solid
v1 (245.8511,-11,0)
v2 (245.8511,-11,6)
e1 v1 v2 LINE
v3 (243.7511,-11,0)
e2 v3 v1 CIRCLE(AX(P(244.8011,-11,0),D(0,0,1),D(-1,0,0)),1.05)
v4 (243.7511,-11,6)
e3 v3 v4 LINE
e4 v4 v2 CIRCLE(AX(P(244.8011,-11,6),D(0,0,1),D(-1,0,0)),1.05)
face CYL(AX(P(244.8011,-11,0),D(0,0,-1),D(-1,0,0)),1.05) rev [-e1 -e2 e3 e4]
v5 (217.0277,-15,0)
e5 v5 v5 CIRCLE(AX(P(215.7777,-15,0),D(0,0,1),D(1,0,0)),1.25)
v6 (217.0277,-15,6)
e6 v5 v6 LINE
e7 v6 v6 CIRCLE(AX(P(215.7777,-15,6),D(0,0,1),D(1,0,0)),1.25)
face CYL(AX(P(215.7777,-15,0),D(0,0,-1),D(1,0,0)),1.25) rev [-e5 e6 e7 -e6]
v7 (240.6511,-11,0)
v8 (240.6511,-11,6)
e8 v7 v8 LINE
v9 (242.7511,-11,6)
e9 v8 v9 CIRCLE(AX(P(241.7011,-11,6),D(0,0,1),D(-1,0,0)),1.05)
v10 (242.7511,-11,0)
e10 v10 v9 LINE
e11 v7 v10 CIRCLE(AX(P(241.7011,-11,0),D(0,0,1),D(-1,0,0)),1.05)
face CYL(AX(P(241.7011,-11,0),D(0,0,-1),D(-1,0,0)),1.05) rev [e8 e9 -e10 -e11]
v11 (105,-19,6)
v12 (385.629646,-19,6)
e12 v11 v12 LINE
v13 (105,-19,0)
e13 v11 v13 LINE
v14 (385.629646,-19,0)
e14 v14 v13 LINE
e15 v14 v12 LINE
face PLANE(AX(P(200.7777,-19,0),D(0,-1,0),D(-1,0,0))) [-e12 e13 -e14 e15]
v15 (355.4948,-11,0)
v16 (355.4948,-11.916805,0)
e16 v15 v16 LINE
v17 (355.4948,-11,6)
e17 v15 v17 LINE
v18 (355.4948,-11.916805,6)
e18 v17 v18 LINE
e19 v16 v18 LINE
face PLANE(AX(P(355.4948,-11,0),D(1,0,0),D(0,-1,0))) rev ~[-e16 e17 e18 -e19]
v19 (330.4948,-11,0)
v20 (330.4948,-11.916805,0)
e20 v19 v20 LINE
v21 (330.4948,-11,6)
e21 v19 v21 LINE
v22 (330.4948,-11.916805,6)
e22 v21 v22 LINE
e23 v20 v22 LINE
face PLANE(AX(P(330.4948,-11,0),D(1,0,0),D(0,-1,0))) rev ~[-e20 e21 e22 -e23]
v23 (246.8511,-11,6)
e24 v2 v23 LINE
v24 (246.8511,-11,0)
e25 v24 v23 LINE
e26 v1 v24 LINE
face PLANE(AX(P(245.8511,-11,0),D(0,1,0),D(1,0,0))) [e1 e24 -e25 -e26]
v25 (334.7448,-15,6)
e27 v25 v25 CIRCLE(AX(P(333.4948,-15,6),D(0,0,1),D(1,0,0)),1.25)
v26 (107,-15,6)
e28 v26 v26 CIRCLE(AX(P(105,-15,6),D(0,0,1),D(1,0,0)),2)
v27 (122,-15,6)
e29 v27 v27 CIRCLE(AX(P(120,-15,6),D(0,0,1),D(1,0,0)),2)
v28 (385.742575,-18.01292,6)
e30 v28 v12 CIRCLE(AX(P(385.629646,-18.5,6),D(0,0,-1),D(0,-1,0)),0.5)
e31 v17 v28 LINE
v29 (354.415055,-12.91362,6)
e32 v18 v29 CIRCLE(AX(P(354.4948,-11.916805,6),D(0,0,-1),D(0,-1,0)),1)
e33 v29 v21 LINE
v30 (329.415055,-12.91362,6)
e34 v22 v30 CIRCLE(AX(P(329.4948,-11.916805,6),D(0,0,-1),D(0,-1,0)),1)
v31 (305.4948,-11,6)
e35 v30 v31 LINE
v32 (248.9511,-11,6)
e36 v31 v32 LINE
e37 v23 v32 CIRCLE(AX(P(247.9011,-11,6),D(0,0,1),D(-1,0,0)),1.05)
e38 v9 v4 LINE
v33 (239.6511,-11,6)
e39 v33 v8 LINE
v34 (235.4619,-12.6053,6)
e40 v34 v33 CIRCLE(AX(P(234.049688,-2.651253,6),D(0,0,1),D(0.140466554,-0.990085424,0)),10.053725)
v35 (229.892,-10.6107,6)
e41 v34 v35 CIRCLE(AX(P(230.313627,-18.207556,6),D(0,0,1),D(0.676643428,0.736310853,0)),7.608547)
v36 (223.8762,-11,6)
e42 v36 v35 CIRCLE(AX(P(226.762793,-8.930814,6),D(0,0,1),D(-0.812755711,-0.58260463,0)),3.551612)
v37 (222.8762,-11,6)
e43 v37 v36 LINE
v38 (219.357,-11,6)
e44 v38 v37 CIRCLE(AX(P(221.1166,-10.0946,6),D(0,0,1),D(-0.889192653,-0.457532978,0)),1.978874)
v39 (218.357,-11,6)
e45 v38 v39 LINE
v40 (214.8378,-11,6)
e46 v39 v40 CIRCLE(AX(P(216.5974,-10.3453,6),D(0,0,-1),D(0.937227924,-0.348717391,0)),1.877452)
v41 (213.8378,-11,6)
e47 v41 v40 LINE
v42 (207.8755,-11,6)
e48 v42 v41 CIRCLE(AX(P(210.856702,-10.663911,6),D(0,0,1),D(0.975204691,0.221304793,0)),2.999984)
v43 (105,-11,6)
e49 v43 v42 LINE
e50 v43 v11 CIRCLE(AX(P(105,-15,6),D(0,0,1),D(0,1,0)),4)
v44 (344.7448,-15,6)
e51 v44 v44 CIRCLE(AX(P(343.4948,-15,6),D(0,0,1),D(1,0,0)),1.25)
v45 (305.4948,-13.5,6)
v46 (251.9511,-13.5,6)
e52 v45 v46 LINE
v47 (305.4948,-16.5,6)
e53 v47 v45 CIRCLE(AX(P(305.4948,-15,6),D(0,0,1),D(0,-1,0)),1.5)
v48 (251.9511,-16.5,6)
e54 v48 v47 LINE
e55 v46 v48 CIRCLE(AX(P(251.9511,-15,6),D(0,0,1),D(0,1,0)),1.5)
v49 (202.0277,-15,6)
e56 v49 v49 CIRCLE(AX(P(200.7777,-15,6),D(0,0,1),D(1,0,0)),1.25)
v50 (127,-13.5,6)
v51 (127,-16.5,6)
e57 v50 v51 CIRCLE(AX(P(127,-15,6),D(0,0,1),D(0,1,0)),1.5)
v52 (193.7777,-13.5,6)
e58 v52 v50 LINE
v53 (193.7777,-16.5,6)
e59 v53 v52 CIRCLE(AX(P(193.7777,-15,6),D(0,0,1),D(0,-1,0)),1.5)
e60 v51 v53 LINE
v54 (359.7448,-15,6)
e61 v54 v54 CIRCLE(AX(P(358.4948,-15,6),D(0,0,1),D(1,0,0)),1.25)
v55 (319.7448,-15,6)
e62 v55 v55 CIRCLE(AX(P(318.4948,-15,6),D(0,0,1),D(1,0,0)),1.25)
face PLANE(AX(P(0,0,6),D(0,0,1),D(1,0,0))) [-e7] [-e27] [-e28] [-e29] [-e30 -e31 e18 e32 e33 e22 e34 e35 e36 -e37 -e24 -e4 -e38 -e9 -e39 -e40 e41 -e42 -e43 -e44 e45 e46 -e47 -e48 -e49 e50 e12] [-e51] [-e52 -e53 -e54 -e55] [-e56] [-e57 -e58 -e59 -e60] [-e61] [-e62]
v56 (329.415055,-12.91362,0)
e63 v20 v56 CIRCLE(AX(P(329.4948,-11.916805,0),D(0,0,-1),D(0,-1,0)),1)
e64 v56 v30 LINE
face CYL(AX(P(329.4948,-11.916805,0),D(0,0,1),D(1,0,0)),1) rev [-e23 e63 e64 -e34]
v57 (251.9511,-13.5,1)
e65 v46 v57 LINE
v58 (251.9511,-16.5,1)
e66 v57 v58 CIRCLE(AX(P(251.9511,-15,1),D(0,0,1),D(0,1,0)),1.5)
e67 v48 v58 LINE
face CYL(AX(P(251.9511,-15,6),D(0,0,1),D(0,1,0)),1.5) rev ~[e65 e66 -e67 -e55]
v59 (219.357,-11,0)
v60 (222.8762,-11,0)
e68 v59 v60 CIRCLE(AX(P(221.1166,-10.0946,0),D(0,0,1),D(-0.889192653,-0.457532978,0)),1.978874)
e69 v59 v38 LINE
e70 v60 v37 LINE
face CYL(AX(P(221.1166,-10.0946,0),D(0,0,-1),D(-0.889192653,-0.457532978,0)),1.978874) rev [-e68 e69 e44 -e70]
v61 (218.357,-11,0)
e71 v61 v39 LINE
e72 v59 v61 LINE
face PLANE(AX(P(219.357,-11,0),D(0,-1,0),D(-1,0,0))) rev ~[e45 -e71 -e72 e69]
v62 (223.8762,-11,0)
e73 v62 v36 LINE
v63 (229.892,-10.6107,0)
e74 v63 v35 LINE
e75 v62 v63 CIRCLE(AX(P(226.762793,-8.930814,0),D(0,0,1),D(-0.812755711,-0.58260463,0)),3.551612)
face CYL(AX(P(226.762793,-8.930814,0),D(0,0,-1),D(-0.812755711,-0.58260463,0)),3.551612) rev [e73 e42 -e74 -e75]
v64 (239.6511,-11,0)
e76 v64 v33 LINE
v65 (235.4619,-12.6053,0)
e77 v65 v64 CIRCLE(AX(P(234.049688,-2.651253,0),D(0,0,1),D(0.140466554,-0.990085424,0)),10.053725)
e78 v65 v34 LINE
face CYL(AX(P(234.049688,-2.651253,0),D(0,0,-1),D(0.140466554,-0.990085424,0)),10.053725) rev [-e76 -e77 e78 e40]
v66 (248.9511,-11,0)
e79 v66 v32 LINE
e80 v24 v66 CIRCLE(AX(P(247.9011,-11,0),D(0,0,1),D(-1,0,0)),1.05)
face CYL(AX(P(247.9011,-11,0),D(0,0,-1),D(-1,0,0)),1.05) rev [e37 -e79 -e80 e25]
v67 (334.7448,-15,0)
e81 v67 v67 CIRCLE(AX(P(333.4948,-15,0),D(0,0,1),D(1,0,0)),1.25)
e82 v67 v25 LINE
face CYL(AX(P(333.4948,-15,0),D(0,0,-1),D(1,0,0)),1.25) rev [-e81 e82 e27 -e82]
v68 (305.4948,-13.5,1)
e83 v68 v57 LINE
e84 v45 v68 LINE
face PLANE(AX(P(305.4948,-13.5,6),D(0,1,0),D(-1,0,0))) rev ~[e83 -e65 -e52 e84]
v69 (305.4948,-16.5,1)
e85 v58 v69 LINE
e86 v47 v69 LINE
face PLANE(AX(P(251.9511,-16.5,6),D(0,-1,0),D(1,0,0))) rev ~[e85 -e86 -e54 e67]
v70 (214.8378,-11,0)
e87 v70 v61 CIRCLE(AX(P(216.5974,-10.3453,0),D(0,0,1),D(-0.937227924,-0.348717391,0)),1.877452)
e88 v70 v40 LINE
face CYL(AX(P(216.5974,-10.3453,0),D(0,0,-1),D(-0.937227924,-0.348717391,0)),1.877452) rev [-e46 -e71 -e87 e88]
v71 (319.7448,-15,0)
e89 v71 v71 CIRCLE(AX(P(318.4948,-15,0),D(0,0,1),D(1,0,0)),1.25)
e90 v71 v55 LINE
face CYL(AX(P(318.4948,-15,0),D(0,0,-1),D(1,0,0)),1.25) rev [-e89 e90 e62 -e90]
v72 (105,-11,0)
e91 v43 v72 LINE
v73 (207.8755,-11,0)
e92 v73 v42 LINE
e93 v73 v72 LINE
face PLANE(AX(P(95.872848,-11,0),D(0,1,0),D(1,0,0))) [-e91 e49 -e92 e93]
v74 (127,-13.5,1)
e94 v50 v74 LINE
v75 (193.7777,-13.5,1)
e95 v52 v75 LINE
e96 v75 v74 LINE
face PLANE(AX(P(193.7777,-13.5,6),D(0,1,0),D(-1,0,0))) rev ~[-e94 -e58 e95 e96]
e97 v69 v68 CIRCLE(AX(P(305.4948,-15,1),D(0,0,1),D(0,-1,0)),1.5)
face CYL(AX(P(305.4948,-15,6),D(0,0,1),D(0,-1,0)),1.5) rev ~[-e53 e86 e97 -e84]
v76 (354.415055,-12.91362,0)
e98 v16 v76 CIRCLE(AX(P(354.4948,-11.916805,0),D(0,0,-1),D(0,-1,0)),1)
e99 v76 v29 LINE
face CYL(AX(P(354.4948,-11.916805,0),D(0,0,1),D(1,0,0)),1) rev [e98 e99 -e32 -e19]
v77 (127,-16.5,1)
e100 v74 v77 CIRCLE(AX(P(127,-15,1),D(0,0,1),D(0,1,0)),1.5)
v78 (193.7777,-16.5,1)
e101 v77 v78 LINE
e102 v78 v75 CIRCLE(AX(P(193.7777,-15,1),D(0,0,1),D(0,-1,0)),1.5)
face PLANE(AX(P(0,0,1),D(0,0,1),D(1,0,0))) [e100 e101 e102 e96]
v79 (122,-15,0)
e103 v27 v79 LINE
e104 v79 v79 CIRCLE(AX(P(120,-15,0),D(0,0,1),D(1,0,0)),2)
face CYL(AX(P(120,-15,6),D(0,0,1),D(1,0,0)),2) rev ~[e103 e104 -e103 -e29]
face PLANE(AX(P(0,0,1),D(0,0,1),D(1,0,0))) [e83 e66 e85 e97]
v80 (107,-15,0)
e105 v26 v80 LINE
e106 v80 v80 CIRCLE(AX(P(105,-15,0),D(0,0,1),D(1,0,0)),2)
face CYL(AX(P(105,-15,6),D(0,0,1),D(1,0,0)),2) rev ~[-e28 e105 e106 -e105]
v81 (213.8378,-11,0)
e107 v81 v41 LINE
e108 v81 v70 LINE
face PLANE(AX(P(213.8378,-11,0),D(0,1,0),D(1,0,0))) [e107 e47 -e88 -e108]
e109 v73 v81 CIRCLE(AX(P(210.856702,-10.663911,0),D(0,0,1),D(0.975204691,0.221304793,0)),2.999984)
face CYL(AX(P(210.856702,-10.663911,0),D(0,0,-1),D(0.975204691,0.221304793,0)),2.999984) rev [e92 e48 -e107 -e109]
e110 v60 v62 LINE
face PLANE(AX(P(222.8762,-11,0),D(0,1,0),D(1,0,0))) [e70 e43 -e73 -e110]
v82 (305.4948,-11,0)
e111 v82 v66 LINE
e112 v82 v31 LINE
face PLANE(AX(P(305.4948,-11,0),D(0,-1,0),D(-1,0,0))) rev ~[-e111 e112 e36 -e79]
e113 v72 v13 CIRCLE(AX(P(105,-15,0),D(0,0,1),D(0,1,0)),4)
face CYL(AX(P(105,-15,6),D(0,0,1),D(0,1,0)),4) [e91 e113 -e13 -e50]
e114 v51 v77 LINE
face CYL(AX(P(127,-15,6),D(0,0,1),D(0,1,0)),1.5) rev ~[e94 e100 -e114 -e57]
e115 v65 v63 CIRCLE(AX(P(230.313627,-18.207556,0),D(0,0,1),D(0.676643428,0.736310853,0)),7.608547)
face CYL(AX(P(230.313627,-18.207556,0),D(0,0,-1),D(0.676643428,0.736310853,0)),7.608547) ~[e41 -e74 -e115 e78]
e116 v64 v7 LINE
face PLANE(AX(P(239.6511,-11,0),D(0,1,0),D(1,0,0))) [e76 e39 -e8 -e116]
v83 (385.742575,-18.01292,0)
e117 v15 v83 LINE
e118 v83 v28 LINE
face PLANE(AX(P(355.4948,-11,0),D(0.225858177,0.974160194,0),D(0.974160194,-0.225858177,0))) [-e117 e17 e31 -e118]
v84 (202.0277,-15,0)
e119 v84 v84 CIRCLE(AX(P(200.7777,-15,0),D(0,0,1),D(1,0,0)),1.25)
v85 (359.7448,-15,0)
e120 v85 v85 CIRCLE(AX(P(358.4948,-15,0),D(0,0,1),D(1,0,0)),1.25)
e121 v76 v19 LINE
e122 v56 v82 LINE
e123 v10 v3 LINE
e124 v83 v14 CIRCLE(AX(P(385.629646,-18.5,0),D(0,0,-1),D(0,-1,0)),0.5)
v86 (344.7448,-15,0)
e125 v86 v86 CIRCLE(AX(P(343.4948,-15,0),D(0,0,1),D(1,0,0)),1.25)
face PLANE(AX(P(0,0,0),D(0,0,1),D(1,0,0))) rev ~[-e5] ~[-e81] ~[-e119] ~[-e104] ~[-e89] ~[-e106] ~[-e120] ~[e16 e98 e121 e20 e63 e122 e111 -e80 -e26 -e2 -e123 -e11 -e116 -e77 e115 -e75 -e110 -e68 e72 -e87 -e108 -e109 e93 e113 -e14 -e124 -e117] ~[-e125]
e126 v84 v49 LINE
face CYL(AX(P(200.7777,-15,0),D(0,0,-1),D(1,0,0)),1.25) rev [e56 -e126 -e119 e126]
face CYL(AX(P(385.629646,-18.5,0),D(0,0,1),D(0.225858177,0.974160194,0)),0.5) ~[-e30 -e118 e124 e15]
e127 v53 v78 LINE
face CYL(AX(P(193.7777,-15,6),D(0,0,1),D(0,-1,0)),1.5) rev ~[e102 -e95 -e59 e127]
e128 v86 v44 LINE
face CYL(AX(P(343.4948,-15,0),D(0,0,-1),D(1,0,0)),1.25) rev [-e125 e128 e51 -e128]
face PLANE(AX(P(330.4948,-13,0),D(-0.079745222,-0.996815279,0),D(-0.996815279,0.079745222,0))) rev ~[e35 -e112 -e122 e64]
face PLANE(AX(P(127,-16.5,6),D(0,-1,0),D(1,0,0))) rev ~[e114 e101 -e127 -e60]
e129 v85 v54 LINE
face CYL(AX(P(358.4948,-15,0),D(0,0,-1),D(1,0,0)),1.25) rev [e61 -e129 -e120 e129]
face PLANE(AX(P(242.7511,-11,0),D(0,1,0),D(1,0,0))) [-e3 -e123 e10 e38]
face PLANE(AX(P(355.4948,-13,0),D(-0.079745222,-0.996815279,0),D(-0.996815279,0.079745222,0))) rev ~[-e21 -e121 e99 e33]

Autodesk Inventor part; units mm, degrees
ref_plane "YZ Plane" through (0, 0, 0) normal (1, 0, 0) x (0, 1, 0)
ref_plane "XZ Plane" through (0, 0, 0) normal (0, 1, 0) x (-1, 0, 0)
ref_plane "XY Plane" through (0, 0, 0) normal (0, 0, 1) x (1, 0, 0)
sketch "スケッチ1" plane through (0, 0, 0) normal (0, 0, 1) x (1, 0, 0)
  circle A0 centre (0, 0) radius 2
  circle A1 centre (15, 0) radius 2
  arc A2 (-0.2273, 4.9948) -> (-2.9263, -4.0542) centre (0, 0) ccw
  circle A3 centre (55, 0) radius 1.5
  circle A4 centre (55, 0) radius 4.025
  arc A5 (57.9262, 6.3865) -> (54.6807, 7.0177) centre (55, 0) ccw
  arc A6 (46.6204, -10.301) -> (48.0377, -5.2999) centre (45.4517, -7.2684) ccw
  line L0 (80, -19) -> (95, -19)
  circle A7 centre (95, -15) radius 2
  circle A8 centre (80, -15) radius 2
  arc A9 (95, -19) -> (96.6662, -11.3635) centre (95, -15) ccw
  circle A10 centre (80, -15) radius 4 construction
  line L1 (48.2385, -19) -> (80, -19)
  line L2 (57.9262, 6.3865) -> (96.6662, -11.3635)
  arc A11 (46.3293, 1.1755) -> (48.0377, -5.2999) centre (55, 0) ccw
  arc A12 (62.367, -1.4063) -> (54.6591, 7.4922) centre (55, 0) ccw
  line L3 (-0.2273, 4.9948) -> (54.6591, 7.4922)
  circle A13 centre (13, -10) radius 1.5
  arc A14 (10.3663, -13.6488) -> (12.3637, -14.4548) centre (13, -10) ccw
  line L4 (-2.9263, -4.0542) -> (10.3663, -13.6488)
  arc A15 (54.3637, -20.4538) -> (59.4202, -16.8428) centre (55, -15.999) ccw
  line L5 (12.3637, -14.4548) -> (54.3637, -20.4538)
  line L6 (59.4202, -16.8428) -> (62.367, -1.4063)
  circle A16 centre (66.7169, -2.5911) radius 1.5
  circle A17 centre (66.7169, -2.5911) radius 4.5 construction
  circle A18 centre (48.2385, -14.5) radius 1.5
  arc A19 (46.6204, -10.301) -> (48.2385, -19) centre (48.2385, -14.5) ccw
  arc A20 (80, -11) -> (80, -19) centre (80, -15) ccw
  line L7 (355.4948, -11) -> (390, -19)
  line L8 (390, -19) -> (80, -19)
  circle A21 centre (358.4948, -15) radius 1.25
  circle A22 centre (343.4948, -15) radius 1.25
  circle A23 centre (333.4948, -15) radius 1.25
  circle A24 centre (318.4948, -15) radius 1.25
  line L9 (80, -11) -> (207.8755, -11)
  line L10 (355.4948, -11) -> (248.9511, -11)
  arc A25 (213.7823, -10) -> (213.8378, -11) centre (210.8567, -10.6639) ccw
  line L11 (213.7823, -10) -> (214.7761, -9.8894)
  line L12 (213.8378, -11) -> (214.8378, -11)
  line L13 (219.357, -11) -> (218.357, -11)
  line L14 (218.2737, -9.5) -> (219.2676, -9.3894)
  line L15 (222.8762, -11) -> (223.8762, -11)
  line L16 (222.7652, -9) -> (223.7591, -8.8894)
  arc A26 (214.8378, -11) -> (218.357, -11) centre (216.5974, -10.3453) ccw
  arc A27 (218.2737, -9.5) -> (214.7761, -9.8894) centre (216.5974, -10.3453) ccw
  arc A28 (219.357, -11) -> (222.8762, -11) centre (221.1166, -10.0946) ccw
  arc A29 (222.7652, -9) -> (219.2676, -9.3894) centre (221.1166, -10.0946) ccw
  line L17 (210.8567, -10.6639) -> (233.0155, -9.4343) construction
  arc A30 (223.8762, -11) -> (229.892, -10.6107) centre (226.7628, -8.9308) ccw
  arc A31 (226.8407, -8.7739) -> (223.7591, -8.8894) centre (225.3075, -9.0352) ccw
  arc A32 (226.8407, -8.7739) -> (230.4998, -7.0068) centre (226.5478, -3.4953) ccw
  arc A33 (233.6316, -8.397) -> (230.4998, -7.0068) centre (231.2455, -9.5496) ccw
  arc A34 (235.4619, -12.6053) -> (229.892, -10.6107) centre (230.3136, -18.2076) ccw
  arc A35 (235.4619, -12.6053) -> (239.6511, -11) centre (234.0497, -2.6513) ccw
  arc A36 (259.6965, 4.4867) -> (265.8152, 14.9495) centre (248.2498, 18.2013) ccw
  arc A37 (220.191, -4.195) -> (265.8152, 14.9495) centre (219.3797, 61.6752) ccw
  line L18 (220.191, -4.195) -> (207.615, -4.3499)
  arc A38 (196.7777, -11) -> (207.615, -4.3499) centre (196.7777, 1.1554) ccw
  line L19 (222.8762, -11) -> (240.076, -10.0456) construction
  line L20 (222.7652, -9) -> (239.478, -8.0726) construction
  line L21 (239.6511, -11) -> (240.6511, -11)
  arc A39 (240.6511, -11) -> (242.7511, -11) centre (241.7011, -11) ccw
  line L22 (242.7511, -11) -> (243.7511, -11)
  arc A40 (243.7511, -11) -> (245.8511, -11) centre (244.8011, -11) ccw
  line L23 (245.8511, -11) -> (246.8511, -11)
  arc A41 (246.8511, -11) -> (248.9511, -11) centre (247.9011, -11) ccw
  arc A42 (240.735, -6.337) -> (238.7449, -7.0075) centre (239.7428, -6.6807) ccw
  arc A43 (243.5362, -5.2633) -> (241.5809, -6.0291) centre (242.5618, -5.6544) ccw
  arc A44 (246.2823, -4.0554) -> (244.3663, -4.9148) centre (245.3279, -4.4932) ccw
  arc A45 (248.9668, -2.7162) -> (247.0946, -3.6672) centre (248.0347, -3.1996) ccw
  arc A46 (233.6316, -8.397) -> (238.7449, -7.0075) centre (219.9279, 52.1342) ccw
  arc A47 (240.735, -6.337) -> (241.5809, -6.0291) centre (219.9279, 52.1342) ccw
  arc A48 (243.5362, -5.2633) -> (244.3663, -4.9148) centre (219.9279, 52.1342) ccw
  arc A49 (246.2823, -4.0554) -> (247.0946, -3.6672) centre (219.9279, 52.1342) ccw
  arc A50 (248.9668, -2.7162) -> (259.6965, 4.4867) centre (219.9279, 52.1342) ccw
  line L24 (196.7777, -11) -> (196.7777, -15)
  circle A51 centre (200.7777, -15) radius 1.25
  circle A52 centre (215.7777, -15) radius 1.25
  arc A53 (196.7777, -15) -> (200.7777, -19) centre (200.7777, -15) ccw
  arc A54 (215.7777, -19) -> (217.9536, -11.6436) centre (215.7777, -15) ccw
  circle A55 centre (200.7777, -15) radius 1.5
  circle A56 centre (215.7777, -15) radius 1.5
  line L25 (200.7777, -19) -> (215.7777, -19)
  circle A57 centre (45.4517, -7.2684) radius 1.5
  arc A58 (46.3293, 1.1755) -> (44.1782, 4.6812) centre (43.1088, 1.6121) ccw
  line L26 (54.6807, 7.0177) -> (44.8362, 6.5698)
  line L27 (44.8362, 6.5698) -> (44.1782, 4.6812)
  line L28 (355.4948, -11) -> (355.4948, -13)
  line L29 (355.4948, -13) -> (330.4948, -11)
  line L30 (330.4948, -11) -> (330.4948, -13)
  line L31 (330.4948, -13) -> (305.4948, -11)
  dimension "d0" = 4
  dimension "d1" = 4
  dimension "d2" = 15
  dimension "d3" = 3
  dimension "d4" = 3
  dimension "d8" = 8.05
  dimension "d9" = 3
  dimension "d10" = 6.5
  dimension "d11" = 4
  dimension "d12" = 4
  dimension "d15" = 15
  dimension "d16" = 15
  dimension "d18" = 3
  dimension "d19" = 3
  dimension "d23" = 3
  dimension "d25" = 40
  dimension "d26" = 40
  dimension "d28" = 15
  dimension "d29" = 13
  dimension "d34" = 3
  dimension "d35" = 3
  dimension "d36" = 3
  dimension "d37" = 8
  dimension "d38" = 390
  dimension "d40" = 4
  dimension "d41" = 8
  dimension "d42" = 2.5
  dimension "d43" = 2.5
  dimension "d44" = 2.5
  dimension "d45" = 2.5
  dimension "d46" = 4
  dimension "d47" = 15
  dimension "d48" = 10
  dimension "d49" = 15
  dimension "d51" = 6
  dimension "d59" = 1
  dimension "d60" = 1.5
  dimension "d61" = 1
  dimension "d62" = 1
  dimension "d63" = 1
  dimension "d64" = 2
  dimension "d65" = 1
  dimension "d66" = 1.0015
  dimension "d67" = 1.0015
  dimension "d68" = 0.7511
  dimension "d69" = 0.7511
  dimension "d70" = 3.176
  dimension "d71" = 3.176
  dimension "d73" = 1.05
  dimension "d74" = 1.05
  dimension "d75" = 1.05
  dimension "d76" = 1
  dimension "d77" = 1
  dimension "d78" = 1
  dimension "d79" = 2.1
  dimension "d80" = 2.1
  dimension "d81" = 2.1
  dimension "d82" = 2.1
  dimension "d83" = 3
  dimension "d84" = 3
  dimension "d85" = 3
  dimension "d88" = 2.5
  dimension "d89" = 2.5
  dimension "d90" = 15
extrude "押し出し1" add sketch "スケッチ1" along normal blind 6 contours L9 L24 A53 L8 A9 L2 | L2 A9 L0 A20 L9 | L9 A25 L12 A26 A54 L8 A53 L24 | A54 A26 L13 A28 L15 A30 A34 A35 L21 A39 L22 A40 L23 A41 L10 L31 L30 L29 L28 L7 L8 | A55 | A56
sketch "スケッチ2" plane through (0, 0, 6) normal (0, 0, 1) x (1, 0, 0)
  circle A0 centre (215.7777, -15) radius 1.25 projected
  circle A1 centre (200.7777, -15) radius 1.25 projected
  circle A2 centre (80, -15) radius 2 projected
  circle A3 centre (95, -15) radius 2 projected
  circle A4 centre (318.4948, -15) radius 1.25 projected
  circle A5 centre (333.4948, -15) radius 1.25 projected
  circle A6 centre (343.4948, -15) radius 1.25 projected
  circle A7 centre (358.4948, -15) radius 1.25 projected
  arc A8 (80, -11) -> (80, -19) centre (80, -15) ccw projected
  line L0 (80, -19) -> (390, -19) projected
  line L1 (390, -19) -> (355.4948, -11) projected
  line L2 (305.4948, -11) -> (248.9511, -11) projected
  arc A9 (246.8511, -11) -> (248.9511, -11) centre (247.9011, -11) ccw projected
  line L3 (246.8511, -11) -> (245.8511, -11) projected
  arc A10 (243.7511, -11) -> (245.8511, -11) centre (244.8011, -11) ccw projected
  line L4 (243.7511, -11) -> (242.7511, -11) projected
  arc A11 (240.6511, -11) -> (242.7511, -11) centre (241.7011, -11) ccw projected
  line L5 (240.6511, -11) -> (239.6511, -11) projected
  arc A12 (235.4619, -12.6053) -> (239.6511, -11) centre (234.0497, -2.6513) ccw projected
  arc A13 (235.4619, -12.6053) -> (229.892, -10.6107) centre (230.3136, -18.2076) ccw projected
  arc A14 (223.8762, -11) -> (229.892, -10.6107) centre (226.7628, -8.9308) ccw projected
  line L6 (223.8762, -11) -> (222.8762, -11) projected
  arc A15 (219.357, -11) -> (222.8762, -11) centre (221.1166, -10.0946) ccw projected
  line L7 (219.357, -11) -> (218.357, -11) projected
  arc A16 (214.8378, -11) -> (218.357, -11) centre (216.5974, -10.3453) ccw projected
  line L8 (214.8378, -11) -> (213.8378, -11) projected
  arc A17 (207.8755, -11) -> (213.8378, -11) centre (210.8567, -10.6639) ccw projected
  line L9 (207.8755, -11) -> (80, -11) projected
  circle A18 centre (105, -15) radius 2
  circle A19 centre (120, -15) radius 2
  arc A20 (105, -11) -> (105, -19) centre (105, -15) ccw
  line L10 (207.8755, -11) -> (80, -11) projected
  line L11 (330.4948, -11) -> (330.4948, -13) projected
  line L12 (330.4948, -13) -> (305.4948, -11) projected
  line L13 (355.4948, -11) -> (355.4948, -13) projected
  line L14 (355.4948, -13) -> (330.4948, -11) projected
  point P0 (0, 0)
  dimension "d114" = 4
  dimension "d115" = 4
  dimension "d116" = 15
  dimension "d117" = 4
  dimension "d119" = 25
extrude "押し出し2" cut sketch "スケッチ2" against normal blind 10 contours L9 A20 L0 A8 | A18 | A19
fillet "フィレット1" radius 0.5 1 edges at (390, -19, 3)
fillet "フィレット2" radius 1 2 edges at (355.4948, -13, 3) (330.4948, -13, 3)
sketch "スケッチ3" plane through (0, 0, 6) normal (0, 0, 1) x (1, 0, 0)
  arc A0 (385.6296, -19) -> (385.7426, -18.0129) centre (385.6296, -18.5) ccw projected
  line L0 (385.7426, -18.0129) -> (355.4948, -11) projected
  line L1 (355.4948, -11) -> (355.4948, -11.9168) projected
  arc A1 (354.4151, -12.9136) -> (355.4948, -11.9168) centre (354.4948, -11.9168) ccw projected
  line L2 (354.4151, -12.9136) -> (330.4948, -11) projected
  line L3 (330.4948, -11) -> (330.4948, -11.9168) projected
  arc A2 (329.4151, -12.9136) -> (330.4948, -11.9168) centre (329.4948, -11.9168) ccw projected
  line L4 (329.4151, -12.9136) -> (305.4948, -11) projected
  line L5 (305.4948, -11) -> (248.9511, -11) projected
  arc A3 (246.8511, -11) -> (248.9511, -11) centre (247.9011, -11) ccw projected
  line L6 (246.8511, -11) -> (245.8511, -11) projected
  arc A4 (243.7511, -11) -> (245.8511, -11) centre (244.8011, -11) ccw projected
  line L7 (243.7511, -11) -> (242.7511, -11) projected
  arc A5 (240.6511, -11) -> (242.7511, -11) centre (241.7011, -11) ccw projected
  line L8 (240.6511, -11) -> (239.6511, -11) projected
  arc A6 (235.4619, -12.6053) -> (239.6511, -11) centre (234.0497, -2.6513) ccw projected
  arc A7 (235.4619, -12.6053) -> (229.892, -10.6107) centre (230.3136, -18.2076) ccw projected
  arc A8 (223.8762, -11) -> (229.892, -10.6107) centre (226.7628, -8.9308) ccw projected
  line L9 (223.8762, -11) -> (222.8762, -11) projected
  arc A9 (219.357, -11) -> (222.8762, -11) centre (221.1166, -10.0946) ccw projected
  line L10 (219.357, -11) -> (218.357, -11) projected
  arc A10 (214.8378, -11) -> (218.357, -11) centre (216.5974, -10.3453) ccw projected
  line L11 (214.8378, -11) -> (213.8378, -11) projected
  arc A11 (207.8755, -11) -> (213.8378, -11) centre (210.8567, -10.6639) ccw projected
  line L12 (207.8755, -11) -> (105, -11) projected
  arc A12 (105, -11) -> (105, -19) centre (105, -15) ccw projected
  line L13 (105, -19) -> (385.6296, -19) projected
  circle A13 centre (318.4948, -15) radius 1.25 projected
  circle A14 centre (333.4948, -15) radius 1.25 projected
  circle A15 centre (343.4948, -15) radius 1.25 projected
  circle A16 centre (358.4948, -15) radius 1.25 projected
  circle A17 centre (200.7777, -15) radius 1.25 projected
  circle A18 centre (215.7777, -15) radius 1.25 projected
  circle A19 centre (120, -15) radius 2 projected
  circle A20 centre (105, -15) radius 2 projected
  line L14 (127, -15) -> (193.7777, -15) construction
  line L15 (127, -16.5) -> (193.7777, -16.5)
  line L16 (193.7777, -13.5) -> (127, -13.5)
  arc A21 (127, -13.5) -> (127, -16.5) centre (127, -15) ccw
  arc A22 (193.7777, -16.5) -> (193.7777, -13.5) centre (193.7777, -15) ccw
  line L17 (251.9511, -15) -> (305.4948, -15) construction
  line L18 (251.9511, -16.5) -> (305.4948, -16.5)
  line L19 (305.4948, -13.5) -> (251.9511, -13.5)
  arc A23 (251.9511, -13.5) -> (251.9511, -16.5) centre (251.9511, -15) ccw
  arc A24 (305.4948, -16.5) -> (305.4948, -13.5) centre (305.4948, -15) ccw
  point P0 (0, 0)
  point P1 (160.3889, -15)
  point P2 (278.723, -15)
  dimension "d129" = 3
  dimension "d130" = 3
  dimension "d131" = 7
  dimension "d132" = 7
  dimension "d133" = 3
  dimension "d134" = 0
extrude "押し出し3" cut sketch "スケッチ3" against normal blind 5 contours A21 L16 A22 L15 | A23 L19 A24 L18
properties part number "ロッド" material "アルミニウム 7075"
